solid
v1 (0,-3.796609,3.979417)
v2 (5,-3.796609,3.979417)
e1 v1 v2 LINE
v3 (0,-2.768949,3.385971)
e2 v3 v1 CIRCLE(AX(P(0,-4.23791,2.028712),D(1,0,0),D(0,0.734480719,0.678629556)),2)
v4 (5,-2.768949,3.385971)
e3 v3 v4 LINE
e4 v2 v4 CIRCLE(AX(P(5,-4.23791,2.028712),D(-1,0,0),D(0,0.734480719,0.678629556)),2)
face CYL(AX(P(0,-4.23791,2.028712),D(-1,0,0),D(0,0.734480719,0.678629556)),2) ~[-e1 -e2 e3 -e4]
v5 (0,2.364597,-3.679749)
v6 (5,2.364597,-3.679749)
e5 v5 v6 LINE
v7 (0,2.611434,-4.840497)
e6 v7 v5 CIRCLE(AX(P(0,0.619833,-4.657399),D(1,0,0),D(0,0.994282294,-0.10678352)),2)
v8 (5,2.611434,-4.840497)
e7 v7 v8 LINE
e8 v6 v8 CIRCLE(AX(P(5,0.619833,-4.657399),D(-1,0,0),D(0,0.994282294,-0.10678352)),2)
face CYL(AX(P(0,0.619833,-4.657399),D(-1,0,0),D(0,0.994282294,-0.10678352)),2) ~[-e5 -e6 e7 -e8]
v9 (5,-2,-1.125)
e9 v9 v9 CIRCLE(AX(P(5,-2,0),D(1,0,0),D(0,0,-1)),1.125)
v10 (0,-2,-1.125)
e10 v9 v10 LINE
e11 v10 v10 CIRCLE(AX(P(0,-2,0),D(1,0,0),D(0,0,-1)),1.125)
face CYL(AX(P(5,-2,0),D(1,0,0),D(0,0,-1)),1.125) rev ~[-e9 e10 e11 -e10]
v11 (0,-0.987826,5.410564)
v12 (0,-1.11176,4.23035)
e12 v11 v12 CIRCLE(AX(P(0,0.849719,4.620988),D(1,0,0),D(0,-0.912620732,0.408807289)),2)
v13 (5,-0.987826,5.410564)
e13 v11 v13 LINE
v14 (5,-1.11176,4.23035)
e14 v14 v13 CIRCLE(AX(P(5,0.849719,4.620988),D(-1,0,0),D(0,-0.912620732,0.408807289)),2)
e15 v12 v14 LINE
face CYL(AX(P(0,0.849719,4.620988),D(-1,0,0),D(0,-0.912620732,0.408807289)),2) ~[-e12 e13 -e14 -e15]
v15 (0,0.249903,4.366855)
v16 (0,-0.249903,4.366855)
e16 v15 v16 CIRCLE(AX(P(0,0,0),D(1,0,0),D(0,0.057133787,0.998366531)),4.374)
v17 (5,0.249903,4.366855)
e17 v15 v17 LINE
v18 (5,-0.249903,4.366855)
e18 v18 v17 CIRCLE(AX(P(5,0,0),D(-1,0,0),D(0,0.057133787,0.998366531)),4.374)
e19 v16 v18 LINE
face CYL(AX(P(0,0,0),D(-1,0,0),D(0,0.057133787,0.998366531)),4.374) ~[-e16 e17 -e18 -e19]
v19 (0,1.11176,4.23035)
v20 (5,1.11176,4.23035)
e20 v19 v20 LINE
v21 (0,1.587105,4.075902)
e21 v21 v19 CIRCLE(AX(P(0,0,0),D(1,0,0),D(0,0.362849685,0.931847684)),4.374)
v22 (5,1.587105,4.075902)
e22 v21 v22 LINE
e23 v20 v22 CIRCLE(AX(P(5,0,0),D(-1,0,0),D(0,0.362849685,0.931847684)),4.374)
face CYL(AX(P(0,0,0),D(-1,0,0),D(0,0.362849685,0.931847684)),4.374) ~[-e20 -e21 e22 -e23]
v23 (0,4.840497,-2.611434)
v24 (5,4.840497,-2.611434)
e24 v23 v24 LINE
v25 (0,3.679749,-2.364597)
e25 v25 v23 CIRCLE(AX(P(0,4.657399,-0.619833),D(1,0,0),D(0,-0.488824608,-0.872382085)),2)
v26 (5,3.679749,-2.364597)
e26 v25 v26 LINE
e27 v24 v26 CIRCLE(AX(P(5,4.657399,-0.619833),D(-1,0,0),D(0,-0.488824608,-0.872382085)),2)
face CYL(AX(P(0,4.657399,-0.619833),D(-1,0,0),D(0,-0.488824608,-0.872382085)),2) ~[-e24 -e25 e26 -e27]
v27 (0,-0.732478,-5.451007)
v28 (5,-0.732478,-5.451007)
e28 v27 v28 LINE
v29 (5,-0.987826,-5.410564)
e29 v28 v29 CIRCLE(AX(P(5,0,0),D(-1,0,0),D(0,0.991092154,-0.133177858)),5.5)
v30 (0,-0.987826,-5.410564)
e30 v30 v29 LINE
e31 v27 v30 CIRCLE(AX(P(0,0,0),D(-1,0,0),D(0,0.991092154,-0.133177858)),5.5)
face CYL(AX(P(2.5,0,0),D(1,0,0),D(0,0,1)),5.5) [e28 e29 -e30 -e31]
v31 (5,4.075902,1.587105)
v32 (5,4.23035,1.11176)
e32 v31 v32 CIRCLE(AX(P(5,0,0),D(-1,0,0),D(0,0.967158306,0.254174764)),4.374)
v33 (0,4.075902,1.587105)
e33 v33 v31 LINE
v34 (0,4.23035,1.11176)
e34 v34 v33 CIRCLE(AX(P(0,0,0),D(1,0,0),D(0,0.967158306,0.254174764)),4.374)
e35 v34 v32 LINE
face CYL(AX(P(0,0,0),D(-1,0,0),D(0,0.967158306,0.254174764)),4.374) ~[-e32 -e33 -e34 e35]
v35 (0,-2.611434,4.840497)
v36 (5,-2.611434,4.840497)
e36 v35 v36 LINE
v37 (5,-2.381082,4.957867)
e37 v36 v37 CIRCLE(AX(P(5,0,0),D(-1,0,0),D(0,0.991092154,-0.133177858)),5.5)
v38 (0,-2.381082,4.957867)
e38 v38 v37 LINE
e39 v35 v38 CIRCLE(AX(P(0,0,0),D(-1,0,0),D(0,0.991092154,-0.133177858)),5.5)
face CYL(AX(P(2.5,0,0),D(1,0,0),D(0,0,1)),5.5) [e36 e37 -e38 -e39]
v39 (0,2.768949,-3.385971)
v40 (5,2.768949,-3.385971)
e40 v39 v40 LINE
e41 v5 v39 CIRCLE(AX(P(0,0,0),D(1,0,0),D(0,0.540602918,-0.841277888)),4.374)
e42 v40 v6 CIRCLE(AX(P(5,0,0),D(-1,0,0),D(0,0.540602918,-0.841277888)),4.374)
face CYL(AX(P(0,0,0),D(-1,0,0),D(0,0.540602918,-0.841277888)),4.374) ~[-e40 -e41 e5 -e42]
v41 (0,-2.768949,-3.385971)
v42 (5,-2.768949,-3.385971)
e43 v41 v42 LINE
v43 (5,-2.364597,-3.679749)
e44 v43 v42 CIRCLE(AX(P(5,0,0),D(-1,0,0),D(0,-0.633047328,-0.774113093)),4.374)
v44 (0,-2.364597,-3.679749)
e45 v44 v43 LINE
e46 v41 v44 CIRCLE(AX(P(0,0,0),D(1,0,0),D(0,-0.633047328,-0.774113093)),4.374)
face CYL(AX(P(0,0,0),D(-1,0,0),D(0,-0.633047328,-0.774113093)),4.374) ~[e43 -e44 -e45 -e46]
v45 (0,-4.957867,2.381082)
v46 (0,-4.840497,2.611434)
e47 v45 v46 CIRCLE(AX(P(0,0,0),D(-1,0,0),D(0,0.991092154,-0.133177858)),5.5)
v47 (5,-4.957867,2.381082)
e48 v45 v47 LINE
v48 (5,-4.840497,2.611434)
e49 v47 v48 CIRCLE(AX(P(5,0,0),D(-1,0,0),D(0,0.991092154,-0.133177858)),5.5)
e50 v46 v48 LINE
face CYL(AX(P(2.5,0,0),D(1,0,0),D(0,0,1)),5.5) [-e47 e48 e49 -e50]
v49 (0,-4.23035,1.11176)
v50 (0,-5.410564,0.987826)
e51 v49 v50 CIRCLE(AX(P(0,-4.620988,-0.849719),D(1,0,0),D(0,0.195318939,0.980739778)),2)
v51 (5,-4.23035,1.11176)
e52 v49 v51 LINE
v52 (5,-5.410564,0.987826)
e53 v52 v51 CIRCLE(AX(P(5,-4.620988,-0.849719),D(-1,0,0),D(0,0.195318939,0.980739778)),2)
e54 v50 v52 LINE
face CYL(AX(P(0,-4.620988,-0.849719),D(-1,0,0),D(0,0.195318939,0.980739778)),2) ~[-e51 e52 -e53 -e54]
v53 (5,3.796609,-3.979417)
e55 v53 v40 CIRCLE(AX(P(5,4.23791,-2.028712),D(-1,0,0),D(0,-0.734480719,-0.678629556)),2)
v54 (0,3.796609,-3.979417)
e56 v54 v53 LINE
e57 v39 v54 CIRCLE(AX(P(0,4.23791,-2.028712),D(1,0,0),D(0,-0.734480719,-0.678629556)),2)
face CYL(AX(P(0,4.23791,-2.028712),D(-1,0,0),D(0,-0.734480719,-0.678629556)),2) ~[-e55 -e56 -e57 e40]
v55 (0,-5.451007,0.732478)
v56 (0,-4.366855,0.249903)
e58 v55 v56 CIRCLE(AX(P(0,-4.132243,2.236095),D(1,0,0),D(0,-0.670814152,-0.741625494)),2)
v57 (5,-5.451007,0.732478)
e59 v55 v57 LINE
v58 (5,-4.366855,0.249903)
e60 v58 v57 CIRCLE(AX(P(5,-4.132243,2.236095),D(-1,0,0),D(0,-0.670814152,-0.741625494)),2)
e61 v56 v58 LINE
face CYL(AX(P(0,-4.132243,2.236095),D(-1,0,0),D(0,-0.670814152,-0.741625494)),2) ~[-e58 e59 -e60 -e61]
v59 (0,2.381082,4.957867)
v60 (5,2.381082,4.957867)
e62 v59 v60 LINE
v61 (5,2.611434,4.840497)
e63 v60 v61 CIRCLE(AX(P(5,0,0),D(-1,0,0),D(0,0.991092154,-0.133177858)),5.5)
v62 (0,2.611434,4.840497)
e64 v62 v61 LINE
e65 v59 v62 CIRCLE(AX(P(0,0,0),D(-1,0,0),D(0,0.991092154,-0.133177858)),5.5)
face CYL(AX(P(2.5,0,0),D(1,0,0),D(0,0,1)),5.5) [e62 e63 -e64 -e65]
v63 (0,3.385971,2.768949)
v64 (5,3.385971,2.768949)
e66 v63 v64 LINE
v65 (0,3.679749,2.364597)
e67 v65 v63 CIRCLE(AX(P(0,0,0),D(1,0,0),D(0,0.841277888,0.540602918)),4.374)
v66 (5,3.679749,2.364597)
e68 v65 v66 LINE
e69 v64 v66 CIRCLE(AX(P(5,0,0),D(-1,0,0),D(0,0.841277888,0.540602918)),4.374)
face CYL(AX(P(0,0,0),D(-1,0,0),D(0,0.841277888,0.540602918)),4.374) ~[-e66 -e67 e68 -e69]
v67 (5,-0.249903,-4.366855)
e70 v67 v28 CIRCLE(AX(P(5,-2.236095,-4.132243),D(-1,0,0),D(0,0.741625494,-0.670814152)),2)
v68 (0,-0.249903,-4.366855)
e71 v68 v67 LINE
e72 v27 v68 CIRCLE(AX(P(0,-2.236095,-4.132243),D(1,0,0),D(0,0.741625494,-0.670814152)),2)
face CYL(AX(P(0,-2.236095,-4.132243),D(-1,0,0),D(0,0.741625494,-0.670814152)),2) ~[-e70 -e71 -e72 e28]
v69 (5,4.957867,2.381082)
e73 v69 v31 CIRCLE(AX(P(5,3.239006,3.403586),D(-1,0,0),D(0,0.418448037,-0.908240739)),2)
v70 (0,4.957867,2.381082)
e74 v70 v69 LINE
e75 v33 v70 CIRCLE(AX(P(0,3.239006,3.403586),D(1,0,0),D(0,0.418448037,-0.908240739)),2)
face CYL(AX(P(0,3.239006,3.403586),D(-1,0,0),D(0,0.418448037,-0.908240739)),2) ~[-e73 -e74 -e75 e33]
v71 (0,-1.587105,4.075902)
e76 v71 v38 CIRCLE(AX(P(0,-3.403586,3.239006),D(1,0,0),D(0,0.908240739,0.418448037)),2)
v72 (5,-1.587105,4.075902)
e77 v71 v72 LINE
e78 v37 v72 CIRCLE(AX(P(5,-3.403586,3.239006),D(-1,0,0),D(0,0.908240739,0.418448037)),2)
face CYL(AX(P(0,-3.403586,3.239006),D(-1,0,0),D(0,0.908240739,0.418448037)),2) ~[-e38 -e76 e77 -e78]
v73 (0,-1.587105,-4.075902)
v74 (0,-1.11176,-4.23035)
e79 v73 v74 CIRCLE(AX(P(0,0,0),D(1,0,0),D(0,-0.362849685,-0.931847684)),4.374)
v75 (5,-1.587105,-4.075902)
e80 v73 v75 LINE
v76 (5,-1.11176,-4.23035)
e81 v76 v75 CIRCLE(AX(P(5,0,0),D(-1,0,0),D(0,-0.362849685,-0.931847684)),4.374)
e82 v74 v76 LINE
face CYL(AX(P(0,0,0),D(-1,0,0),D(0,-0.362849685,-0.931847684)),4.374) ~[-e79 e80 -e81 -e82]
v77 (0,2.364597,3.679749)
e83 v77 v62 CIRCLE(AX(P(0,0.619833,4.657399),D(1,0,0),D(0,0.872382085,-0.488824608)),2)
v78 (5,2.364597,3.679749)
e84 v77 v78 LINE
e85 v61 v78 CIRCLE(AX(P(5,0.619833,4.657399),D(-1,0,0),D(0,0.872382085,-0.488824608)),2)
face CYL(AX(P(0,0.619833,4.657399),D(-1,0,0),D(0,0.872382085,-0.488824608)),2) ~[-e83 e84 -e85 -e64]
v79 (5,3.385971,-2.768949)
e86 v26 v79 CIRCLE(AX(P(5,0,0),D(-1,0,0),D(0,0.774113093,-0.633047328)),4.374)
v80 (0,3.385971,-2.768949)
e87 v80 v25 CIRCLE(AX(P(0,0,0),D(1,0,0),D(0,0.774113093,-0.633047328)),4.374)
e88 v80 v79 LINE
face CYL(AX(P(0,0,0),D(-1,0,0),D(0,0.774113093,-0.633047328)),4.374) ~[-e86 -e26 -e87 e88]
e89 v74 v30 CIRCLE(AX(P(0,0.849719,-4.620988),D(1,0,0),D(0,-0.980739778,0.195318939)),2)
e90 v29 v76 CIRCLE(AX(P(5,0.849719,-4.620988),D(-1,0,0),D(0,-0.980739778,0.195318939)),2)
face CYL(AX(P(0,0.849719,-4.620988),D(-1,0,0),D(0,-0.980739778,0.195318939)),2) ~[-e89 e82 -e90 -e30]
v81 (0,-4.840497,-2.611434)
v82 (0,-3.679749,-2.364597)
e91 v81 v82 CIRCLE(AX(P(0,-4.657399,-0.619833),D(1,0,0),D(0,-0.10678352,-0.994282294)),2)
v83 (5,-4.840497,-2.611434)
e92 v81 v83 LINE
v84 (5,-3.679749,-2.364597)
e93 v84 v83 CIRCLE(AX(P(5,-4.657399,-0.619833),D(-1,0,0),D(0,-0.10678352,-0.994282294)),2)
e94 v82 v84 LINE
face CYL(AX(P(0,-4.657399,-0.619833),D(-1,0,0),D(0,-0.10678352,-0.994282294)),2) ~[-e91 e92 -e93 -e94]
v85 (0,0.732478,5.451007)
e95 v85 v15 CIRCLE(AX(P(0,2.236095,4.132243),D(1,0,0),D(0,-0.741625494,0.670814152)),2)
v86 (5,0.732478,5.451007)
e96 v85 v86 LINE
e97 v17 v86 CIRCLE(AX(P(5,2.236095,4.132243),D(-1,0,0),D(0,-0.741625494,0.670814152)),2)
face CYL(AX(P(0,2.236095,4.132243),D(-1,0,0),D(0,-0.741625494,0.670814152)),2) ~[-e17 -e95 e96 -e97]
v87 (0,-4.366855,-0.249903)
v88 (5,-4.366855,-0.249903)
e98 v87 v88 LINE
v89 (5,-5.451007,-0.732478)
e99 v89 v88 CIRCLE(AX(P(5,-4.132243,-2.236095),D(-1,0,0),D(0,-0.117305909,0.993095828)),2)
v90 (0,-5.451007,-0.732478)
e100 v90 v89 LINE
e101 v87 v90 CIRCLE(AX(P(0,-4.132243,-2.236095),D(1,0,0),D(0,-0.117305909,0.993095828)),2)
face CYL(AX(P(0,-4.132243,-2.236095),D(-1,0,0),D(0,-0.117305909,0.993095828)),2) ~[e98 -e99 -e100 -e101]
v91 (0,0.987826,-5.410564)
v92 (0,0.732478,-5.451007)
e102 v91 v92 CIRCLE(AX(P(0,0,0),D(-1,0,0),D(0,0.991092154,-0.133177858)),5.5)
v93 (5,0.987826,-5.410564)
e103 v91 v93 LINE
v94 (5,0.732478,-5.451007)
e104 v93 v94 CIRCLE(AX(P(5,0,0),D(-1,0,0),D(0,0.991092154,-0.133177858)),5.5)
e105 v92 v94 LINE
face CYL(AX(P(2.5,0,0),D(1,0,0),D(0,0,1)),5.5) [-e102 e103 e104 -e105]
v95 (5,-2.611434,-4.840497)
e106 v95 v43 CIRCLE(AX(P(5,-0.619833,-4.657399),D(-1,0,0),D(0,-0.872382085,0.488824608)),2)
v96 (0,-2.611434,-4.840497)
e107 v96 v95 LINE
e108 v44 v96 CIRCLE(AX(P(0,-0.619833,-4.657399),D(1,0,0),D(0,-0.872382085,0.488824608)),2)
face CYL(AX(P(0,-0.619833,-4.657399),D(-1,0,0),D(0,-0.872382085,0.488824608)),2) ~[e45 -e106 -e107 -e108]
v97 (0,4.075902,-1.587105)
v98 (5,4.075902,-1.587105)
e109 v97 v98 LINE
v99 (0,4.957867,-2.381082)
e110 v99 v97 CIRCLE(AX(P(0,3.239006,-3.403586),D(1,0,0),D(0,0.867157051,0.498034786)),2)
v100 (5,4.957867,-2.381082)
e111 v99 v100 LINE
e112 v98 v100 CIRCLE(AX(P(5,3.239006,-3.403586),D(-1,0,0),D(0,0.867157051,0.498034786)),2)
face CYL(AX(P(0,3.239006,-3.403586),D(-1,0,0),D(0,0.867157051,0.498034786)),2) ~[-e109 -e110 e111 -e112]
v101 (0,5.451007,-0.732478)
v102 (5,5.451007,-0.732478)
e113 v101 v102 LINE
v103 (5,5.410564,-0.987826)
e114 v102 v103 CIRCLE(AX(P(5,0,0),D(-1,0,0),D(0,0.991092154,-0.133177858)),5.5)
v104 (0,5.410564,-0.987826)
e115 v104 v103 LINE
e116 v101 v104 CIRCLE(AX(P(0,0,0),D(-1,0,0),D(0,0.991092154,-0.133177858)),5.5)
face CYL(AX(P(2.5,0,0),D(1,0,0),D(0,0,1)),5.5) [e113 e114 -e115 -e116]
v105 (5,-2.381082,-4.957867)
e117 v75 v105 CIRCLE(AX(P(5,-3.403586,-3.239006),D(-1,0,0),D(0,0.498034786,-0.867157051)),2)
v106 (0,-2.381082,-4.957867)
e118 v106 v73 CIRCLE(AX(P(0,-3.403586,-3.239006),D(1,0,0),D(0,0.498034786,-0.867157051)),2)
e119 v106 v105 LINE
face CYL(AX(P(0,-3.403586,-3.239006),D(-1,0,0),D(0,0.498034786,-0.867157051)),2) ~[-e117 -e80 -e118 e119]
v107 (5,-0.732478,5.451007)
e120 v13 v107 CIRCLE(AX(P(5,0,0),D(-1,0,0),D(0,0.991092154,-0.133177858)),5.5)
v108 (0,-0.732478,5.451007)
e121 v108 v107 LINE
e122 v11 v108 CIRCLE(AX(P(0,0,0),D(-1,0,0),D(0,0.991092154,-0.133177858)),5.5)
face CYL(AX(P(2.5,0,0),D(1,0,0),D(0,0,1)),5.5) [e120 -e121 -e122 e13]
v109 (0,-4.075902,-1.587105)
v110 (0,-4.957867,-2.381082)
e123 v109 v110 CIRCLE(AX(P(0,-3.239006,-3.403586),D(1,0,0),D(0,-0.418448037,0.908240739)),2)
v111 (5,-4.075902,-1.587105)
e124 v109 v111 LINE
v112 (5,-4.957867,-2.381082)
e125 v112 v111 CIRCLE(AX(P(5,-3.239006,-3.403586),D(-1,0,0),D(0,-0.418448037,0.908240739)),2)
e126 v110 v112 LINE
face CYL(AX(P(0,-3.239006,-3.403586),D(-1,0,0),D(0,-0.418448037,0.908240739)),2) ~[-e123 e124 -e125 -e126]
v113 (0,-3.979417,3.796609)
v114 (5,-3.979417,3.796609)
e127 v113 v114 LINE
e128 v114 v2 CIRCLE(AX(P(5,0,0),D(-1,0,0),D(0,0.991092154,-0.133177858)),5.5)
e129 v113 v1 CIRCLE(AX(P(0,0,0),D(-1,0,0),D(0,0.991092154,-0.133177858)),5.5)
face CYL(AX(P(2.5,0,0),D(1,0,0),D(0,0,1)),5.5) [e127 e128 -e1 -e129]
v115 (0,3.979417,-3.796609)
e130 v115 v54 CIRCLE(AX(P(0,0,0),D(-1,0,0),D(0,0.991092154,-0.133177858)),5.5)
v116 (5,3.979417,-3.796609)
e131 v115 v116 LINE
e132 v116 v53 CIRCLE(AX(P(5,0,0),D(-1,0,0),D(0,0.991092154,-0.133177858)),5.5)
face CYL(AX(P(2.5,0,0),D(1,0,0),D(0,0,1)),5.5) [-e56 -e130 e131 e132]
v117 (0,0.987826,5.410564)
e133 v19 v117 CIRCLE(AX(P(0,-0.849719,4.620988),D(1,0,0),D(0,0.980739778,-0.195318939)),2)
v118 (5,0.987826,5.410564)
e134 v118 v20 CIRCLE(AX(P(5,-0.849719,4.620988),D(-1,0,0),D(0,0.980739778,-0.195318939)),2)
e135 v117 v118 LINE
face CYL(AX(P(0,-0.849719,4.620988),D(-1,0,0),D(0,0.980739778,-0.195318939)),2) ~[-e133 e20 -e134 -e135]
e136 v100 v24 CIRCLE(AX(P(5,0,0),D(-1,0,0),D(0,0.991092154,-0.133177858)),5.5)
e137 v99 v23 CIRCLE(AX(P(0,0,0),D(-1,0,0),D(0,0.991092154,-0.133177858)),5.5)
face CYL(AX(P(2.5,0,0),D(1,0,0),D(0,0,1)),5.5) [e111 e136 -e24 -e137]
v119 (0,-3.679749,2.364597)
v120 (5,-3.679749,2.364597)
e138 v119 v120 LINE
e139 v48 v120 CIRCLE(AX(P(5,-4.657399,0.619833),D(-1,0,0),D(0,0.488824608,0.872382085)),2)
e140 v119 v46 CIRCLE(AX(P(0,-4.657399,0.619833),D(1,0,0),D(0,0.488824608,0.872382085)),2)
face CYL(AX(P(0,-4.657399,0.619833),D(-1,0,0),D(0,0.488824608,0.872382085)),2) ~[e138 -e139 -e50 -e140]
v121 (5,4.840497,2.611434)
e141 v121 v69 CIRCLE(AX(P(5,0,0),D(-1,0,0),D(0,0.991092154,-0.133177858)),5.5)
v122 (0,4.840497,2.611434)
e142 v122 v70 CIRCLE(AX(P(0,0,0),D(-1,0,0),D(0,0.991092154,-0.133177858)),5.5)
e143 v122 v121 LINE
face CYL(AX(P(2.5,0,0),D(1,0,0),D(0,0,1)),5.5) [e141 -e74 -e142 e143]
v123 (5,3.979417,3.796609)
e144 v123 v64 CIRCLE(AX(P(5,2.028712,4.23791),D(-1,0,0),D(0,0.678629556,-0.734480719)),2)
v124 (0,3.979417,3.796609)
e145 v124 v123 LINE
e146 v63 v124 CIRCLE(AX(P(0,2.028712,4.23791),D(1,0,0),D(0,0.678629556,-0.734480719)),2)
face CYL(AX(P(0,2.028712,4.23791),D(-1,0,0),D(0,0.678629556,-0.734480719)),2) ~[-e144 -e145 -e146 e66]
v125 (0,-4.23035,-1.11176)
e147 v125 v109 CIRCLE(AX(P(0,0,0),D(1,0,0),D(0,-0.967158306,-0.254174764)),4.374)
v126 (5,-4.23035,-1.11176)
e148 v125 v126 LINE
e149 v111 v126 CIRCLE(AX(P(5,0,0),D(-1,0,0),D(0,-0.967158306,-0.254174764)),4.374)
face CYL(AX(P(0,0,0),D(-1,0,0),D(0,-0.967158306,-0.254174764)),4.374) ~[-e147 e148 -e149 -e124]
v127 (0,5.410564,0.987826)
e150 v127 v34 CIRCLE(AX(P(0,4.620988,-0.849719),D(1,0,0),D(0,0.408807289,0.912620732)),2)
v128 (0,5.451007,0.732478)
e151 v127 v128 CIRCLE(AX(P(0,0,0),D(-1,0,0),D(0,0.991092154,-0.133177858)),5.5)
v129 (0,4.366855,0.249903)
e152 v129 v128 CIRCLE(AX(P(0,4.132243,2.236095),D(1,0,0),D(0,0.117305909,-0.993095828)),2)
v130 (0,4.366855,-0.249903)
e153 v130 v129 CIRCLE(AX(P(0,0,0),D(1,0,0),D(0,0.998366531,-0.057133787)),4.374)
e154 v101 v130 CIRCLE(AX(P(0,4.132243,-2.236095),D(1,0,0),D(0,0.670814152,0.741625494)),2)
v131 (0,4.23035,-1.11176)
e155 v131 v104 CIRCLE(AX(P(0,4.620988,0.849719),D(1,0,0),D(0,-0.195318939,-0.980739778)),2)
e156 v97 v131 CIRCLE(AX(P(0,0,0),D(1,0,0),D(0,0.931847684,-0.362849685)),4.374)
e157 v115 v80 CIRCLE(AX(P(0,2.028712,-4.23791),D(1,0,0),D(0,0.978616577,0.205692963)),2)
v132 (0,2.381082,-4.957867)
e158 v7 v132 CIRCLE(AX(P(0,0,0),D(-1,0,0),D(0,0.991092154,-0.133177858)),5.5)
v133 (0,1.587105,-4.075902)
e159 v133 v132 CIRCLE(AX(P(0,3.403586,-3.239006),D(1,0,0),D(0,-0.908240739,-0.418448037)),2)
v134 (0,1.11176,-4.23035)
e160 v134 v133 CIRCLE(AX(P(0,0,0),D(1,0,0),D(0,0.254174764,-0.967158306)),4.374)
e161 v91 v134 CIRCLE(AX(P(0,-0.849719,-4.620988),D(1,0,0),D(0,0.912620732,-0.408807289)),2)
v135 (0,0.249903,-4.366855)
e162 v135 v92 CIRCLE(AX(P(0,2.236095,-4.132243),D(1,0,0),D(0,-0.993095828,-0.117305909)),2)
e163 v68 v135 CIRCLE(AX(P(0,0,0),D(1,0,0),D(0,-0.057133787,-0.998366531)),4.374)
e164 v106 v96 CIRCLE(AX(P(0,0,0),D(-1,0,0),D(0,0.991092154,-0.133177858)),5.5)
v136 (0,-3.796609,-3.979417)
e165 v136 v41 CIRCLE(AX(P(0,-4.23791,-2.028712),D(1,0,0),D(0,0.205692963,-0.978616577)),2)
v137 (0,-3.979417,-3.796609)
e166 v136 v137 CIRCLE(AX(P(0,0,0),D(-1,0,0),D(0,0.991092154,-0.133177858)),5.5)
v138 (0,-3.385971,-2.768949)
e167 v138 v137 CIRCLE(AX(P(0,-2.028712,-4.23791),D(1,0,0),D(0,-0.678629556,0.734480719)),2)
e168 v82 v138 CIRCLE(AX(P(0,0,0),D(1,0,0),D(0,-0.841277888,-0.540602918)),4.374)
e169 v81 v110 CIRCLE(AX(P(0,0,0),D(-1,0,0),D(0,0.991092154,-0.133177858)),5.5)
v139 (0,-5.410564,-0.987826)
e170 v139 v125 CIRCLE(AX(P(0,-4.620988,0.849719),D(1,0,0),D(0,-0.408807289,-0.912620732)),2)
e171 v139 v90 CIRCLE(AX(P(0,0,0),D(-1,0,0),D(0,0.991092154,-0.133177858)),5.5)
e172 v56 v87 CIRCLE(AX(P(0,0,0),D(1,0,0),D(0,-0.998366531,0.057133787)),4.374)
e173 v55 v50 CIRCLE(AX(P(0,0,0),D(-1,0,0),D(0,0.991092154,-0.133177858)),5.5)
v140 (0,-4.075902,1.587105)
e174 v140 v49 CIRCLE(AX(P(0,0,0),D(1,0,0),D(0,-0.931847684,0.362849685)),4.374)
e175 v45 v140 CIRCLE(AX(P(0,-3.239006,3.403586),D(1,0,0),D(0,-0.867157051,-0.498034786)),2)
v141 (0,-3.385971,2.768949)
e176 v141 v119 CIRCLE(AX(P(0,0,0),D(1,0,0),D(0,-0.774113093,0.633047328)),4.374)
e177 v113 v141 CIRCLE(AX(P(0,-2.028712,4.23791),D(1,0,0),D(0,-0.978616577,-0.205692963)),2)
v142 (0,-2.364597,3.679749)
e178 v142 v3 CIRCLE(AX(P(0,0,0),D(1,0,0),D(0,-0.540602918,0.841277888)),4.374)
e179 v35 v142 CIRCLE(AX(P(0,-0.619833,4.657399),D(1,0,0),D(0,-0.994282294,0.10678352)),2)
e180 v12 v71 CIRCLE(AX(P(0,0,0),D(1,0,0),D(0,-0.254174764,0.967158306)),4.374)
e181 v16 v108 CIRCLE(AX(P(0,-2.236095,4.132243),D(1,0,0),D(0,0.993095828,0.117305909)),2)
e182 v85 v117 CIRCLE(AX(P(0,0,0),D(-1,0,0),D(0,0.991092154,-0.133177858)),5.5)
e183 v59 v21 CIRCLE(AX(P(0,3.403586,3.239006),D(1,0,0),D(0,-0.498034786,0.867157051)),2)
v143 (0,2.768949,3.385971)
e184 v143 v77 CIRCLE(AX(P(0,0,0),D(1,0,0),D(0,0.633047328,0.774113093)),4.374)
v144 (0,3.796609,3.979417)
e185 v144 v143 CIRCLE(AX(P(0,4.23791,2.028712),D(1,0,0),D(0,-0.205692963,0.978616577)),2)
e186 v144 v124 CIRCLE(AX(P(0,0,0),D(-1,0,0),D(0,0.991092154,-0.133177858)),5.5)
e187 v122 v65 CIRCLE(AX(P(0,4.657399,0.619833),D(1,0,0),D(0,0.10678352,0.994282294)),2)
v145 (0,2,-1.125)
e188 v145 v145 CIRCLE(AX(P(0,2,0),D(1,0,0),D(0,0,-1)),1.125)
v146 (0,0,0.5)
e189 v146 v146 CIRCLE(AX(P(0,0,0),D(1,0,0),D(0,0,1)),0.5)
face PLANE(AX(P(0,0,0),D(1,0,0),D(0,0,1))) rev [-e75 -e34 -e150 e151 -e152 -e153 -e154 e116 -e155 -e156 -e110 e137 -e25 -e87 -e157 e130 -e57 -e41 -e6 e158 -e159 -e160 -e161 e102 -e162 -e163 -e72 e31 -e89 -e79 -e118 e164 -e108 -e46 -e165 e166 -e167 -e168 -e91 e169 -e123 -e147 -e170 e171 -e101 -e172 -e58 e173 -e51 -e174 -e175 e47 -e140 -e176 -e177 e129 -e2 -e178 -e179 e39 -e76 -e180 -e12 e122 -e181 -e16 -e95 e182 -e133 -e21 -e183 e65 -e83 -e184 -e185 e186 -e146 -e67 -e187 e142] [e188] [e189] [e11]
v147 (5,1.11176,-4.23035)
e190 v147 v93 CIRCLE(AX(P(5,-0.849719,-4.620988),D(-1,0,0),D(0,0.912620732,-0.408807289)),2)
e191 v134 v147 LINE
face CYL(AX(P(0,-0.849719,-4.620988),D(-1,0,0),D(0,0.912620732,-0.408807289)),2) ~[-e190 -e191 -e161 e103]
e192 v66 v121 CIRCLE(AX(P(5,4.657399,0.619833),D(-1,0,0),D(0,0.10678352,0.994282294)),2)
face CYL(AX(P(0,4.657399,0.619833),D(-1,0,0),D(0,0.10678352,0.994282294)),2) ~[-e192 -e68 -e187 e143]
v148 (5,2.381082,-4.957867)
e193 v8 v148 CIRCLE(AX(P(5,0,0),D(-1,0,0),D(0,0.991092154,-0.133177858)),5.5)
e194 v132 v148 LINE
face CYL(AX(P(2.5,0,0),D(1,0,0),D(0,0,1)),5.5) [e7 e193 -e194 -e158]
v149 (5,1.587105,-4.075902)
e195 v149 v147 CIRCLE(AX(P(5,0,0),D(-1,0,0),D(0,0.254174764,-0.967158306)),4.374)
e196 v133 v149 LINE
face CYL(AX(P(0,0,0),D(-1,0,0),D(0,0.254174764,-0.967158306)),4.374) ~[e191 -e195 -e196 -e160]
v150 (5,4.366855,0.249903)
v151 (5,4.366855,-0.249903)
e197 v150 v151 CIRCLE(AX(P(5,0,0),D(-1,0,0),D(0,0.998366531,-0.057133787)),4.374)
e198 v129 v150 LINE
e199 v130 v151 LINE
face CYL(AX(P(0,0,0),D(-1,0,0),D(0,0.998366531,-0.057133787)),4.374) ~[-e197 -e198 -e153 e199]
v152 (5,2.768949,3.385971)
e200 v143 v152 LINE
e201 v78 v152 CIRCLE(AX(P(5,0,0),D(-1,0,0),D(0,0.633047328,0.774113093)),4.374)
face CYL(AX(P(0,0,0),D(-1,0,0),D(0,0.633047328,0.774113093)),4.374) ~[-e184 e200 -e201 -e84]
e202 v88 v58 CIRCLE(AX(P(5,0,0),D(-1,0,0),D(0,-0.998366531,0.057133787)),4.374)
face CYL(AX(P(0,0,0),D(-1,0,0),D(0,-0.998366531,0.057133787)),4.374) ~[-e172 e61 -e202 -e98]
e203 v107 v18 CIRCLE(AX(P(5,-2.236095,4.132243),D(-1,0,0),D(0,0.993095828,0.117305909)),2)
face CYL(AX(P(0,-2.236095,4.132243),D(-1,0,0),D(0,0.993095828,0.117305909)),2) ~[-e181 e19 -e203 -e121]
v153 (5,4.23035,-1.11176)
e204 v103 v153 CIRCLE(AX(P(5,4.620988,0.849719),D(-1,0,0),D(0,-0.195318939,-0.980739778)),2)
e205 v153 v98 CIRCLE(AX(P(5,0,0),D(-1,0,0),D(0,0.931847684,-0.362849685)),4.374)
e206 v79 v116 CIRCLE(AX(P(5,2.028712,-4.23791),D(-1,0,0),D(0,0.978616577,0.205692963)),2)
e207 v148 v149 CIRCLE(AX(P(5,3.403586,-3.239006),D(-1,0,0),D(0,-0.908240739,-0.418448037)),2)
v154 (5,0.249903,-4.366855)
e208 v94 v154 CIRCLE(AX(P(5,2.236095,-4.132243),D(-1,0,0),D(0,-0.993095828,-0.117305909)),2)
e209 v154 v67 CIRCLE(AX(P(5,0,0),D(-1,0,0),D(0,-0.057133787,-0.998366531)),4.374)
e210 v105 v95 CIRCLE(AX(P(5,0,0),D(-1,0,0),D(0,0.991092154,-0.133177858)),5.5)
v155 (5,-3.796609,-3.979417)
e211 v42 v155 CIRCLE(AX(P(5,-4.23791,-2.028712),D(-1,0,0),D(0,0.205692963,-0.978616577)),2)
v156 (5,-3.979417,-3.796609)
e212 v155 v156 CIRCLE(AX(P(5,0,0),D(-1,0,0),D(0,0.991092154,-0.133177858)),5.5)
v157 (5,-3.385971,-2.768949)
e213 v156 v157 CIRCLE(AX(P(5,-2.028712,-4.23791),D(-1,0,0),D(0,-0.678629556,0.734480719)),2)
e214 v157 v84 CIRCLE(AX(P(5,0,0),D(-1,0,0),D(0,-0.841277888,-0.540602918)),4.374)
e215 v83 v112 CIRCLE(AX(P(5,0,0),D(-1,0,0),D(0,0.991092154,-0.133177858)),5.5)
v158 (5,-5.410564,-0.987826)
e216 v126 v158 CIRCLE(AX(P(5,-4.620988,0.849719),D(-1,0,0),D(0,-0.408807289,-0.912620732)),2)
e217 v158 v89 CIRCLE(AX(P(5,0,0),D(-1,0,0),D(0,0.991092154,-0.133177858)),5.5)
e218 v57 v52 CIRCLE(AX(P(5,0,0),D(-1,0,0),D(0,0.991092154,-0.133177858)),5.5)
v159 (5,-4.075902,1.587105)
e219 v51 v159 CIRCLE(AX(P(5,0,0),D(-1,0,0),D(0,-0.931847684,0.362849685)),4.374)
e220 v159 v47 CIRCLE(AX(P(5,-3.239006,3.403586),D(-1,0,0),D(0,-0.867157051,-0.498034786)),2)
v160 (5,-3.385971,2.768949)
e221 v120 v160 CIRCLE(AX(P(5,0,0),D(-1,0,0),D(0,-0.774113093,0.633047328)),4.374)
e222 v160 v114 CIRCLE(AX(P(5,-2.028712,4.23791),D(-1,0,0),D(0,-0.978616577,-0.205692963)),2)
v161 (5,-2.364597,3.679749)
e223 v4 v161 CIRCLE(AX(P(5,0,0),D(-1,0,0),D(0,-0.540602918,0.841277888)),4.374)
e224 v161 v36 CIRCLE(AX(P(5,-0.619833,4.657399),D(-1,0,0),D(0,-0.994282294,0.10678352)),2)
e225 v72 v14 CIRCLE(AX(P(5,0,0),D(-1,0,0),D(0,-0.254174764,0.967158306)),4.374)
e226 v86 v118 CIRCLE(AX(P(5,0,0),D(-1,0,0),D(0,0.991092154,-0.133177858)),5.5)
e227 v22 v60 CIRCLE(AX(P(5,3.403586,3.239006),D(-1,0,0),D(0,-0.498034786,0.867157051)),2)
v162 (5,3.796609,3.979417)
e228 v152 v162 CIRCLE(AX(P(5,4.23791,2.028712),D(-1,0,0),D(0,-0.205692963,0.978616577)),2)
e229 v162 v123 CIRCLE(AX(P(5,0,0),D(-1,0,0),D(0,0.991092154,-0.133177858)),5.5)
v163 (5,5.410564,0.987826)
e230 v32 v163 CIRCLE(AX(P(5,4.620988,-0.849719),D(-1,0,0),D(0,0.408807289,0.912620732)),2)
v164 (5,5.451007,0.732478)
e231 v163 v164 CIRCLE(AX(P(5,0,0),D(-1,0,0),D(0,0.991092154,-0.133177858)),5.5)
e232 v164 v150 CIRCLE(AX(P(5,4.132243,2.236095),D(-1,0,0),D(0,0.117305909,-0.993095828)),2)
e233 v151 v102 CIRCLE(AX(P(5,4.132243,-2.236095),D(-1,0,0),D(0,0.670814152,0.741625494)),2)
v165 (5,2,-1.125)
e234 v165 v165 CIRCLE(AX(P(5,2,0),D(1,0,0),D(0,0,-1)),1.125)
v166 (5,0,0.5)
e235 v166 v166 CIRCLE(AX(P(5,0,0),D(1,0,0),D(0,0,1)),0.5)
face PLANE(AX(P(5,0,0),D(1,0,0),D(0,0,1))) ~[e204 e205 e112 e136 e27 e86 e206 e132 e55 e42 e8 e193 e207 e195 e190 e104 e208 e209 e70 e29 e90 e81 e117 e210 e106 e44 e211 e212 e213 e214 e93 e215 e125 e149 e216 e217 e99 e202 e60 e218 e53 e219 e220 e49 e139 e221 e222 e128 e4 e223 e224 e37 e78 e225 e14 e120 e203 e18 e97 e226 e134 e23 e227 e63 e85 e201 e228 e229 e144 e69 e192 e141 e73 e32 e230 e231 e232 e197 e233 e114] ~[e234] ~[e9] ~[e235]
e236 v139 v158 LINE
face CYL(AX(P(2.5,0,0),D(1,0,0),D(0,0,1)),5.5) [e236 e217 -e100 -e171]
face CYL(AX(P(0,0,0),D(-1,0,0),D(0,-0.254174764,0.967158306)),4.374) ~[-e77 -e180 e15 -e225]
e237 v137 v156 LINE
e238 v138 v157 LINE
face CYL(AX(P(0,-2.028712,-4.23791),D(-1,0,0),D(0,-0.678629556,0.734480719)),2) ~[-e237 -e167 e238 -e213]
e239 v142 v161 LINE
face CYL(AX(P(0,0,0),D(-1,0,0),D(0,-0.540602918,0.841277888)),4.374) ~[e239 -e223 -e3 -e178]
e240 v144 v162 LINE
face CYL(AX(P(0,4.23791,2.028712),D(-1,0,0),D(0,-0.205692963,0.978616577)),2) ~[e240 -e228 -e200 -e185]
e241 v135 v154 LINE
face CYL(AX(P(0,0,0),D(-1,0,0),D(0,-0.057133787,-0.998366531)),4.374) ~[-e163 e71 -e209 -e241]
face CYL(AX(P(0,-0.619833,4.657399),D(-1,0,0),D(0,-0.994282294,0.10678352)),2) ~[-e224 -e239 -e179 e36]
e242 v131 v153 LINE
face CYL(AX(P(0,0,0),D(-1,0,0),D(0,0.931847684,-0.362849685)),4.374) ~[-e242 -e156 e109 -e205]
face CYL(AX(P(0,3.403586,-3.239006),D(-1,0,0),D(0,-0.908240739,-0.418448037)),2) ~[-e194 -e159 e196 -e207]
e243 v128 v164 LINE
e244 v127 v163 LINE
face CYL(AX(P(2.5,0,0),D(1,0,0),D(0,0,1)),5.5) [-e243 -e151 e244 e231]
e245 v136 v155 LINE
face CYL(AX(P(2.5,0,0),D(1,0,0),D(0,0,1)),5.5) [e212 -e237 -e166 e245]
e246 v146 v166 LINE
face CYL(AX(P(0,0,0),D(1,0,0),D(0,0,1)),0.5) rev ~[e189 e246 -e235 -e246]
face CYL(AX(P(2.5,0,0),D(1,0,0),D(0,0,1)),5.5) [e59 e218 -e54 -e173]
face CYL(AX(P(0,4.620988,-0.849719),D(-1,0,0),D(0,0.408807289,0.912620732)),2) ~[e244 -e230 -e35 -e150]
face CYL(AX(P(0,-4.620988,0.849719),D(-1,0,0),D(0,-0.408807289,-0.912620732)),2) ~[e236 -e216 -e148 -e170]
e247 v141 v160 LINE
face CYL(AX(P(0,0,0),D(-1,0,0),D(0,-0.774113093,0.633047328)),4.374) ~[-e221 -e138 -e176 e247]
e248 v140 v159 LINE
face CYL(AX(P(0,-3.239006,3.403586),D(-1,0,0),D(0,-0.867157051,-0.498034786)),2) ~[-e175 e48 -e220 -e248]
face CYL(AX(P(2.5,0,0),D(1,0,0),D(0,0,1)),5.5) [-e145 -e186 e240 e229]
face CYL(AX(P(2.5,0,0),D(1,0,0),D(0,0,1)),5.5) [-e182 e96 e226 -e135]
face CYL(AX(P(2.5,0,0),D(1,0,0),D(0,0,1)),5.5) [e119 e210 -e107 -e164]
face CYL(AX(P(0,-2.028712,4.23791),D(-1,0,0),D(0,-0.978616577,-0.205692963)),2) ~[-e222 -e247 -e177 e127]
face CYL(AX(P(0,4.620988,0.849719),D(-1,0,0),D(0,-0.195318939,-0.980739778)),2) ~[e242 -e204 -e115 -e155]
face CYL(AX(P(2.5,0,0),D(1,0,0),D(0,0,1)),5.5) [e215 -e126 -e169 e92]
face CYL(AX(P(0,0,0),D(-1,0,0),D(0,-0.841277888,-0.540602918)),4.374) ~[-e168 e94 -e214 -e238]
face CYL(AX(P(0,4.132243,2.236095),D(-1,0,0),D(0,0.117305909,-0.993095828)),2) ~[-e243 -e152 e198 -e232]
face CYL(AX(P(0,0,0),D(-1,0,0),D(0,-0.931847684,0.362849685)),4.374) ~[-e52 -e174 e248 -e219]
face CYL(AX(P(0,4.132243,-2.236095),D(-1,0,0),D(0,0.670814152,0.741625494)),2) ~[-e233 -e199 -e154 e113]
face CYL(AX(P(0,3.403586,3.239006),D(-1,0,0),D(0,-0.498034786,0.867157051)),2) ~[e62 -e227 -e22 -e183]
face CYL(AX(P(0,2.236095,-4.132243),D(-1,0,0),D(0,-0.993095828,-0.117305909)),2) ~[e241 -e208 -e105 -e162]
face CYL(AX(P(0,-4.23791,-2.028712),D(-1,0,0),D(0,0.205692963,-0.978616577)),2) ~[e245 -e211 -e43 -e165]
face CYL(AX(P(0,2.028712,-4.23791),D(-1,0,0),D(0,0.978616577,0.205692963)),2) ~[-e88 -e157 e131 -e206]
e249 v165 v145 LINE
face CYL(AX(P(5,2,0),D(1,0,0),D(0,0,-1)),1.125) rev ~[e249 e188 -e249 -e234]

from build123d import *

# Parameters (mm, degrees)
BASPROSKE_W             = 5
BASPROSKE_H             = 5.5
TOOTHCUT_DEPTH          = 10.246621004
TEETHCUTS_COUNT         = 20
TEETHCUTS_ANGLE         = 342
BORSKE_R                = 0.5
BORE_DEPTH              = 50.0000508
SKETCH1_R               = 1.125
CUT_EXTRUDE1_DEPTH      = 10.188413972
CUT_EXTRUDE1_DEPTH_BACK = 10.188413972


with BuildPart() as part:
    # BasProSke → Base-Revolve (revolve)
    with BuildSketch(Plane(origin=(0, 0, 0), x_dir=(1, 0, 0), z_dir=(0, 1, 0)), mode=Mode.PRIVATE) as base_revolve_sk:
        with Locations((2.5, 2.75)):
            Rectangle(BASPROSKE_W, BASPROSKE_H)
    revolve(base_revolve_sk.sketch.rotate(Axis((-10, 0, 0), (1, 0, 0)), 180), axis=Axis((-10, 0, 0), (1, 0, 0)))

    # TooCutSke → ToothCut (cut, through all)
    with BuildSketch(Plane(origin=(0, 0, 0), x_dir=(0, 0, -1), z_dir=(1, 0, 0))):
        with BuildLine():
            ThreePointArc((0.249903181, 4.366855207), (0, 4.374), (-0.249903181, 4.366855207))
            ThreePointArc((-0.249903181, 4.366855207), (-0.415207844, 4.95951031), (-0.752843848, 5.473871692))
            ThreePointArc((-0.752843848, 5.473871692), (0, 5.5254), (0.752843848, 5.473871692))
            ThreePointArc((0.752843848, 5.473871692), (0.415207844, 4.95951031), (0.249903181, 4.366855207))
        make_face()
    toothcut = extrude(amount=TOOTHCUT_DEPTH, mode=Mode.SUBTRACT)

    # TeethCuts: ToothCut ×20 about axis
    teethcuts_axis = Axis((-10, 0, 0), (1, 0, 0))
    for i in range(1, TEETHCUTS_COUNT):
        add(toothcut.rotate(teethcuts_axis, i * TEETHCUTS_ANGLE / (TEETHCUTS_COUNT - 1)), mode=Mode.SUBTRACT)

    # BorSke → Bore (cut, symmetric)
    with BuildSketch(Plane(origin=(0, 0, 0), x_dir=(0, 0, -1), z_dir=(1, 0, 0))):
        with Locations(Location((0, 0, 0), (0, 0, 180))):
            Circle(BORSKE_R)
    extrude(amount=BORE_DEPTH, both=True, mode=Mode.SUBTRACT)

    # Sketch1 → Cut-Extrude1 (cut, two sides)
    with BuildSketch(Plane(origin=(5, 0, 0), x_dir=(0, 0, -1), z_dir=(1, 0, 0))) as cut_extrude1_sk:
        with Locations((0, 2)):
            Circle(SKETCH1_R)
        with Locations((0, -2)):
            Circle(SKETCH1_R)
    extrude(amount=CUT_EXTRUDE1_DEPTH, mode=Mode.SUBTRACT)
    extrude(cut_extrude1_sk.sketch, amount=-CUT_EXTRUDE1_DEPTH_BACK, mode=Mode.SUBTRACT)


solid = part.part
